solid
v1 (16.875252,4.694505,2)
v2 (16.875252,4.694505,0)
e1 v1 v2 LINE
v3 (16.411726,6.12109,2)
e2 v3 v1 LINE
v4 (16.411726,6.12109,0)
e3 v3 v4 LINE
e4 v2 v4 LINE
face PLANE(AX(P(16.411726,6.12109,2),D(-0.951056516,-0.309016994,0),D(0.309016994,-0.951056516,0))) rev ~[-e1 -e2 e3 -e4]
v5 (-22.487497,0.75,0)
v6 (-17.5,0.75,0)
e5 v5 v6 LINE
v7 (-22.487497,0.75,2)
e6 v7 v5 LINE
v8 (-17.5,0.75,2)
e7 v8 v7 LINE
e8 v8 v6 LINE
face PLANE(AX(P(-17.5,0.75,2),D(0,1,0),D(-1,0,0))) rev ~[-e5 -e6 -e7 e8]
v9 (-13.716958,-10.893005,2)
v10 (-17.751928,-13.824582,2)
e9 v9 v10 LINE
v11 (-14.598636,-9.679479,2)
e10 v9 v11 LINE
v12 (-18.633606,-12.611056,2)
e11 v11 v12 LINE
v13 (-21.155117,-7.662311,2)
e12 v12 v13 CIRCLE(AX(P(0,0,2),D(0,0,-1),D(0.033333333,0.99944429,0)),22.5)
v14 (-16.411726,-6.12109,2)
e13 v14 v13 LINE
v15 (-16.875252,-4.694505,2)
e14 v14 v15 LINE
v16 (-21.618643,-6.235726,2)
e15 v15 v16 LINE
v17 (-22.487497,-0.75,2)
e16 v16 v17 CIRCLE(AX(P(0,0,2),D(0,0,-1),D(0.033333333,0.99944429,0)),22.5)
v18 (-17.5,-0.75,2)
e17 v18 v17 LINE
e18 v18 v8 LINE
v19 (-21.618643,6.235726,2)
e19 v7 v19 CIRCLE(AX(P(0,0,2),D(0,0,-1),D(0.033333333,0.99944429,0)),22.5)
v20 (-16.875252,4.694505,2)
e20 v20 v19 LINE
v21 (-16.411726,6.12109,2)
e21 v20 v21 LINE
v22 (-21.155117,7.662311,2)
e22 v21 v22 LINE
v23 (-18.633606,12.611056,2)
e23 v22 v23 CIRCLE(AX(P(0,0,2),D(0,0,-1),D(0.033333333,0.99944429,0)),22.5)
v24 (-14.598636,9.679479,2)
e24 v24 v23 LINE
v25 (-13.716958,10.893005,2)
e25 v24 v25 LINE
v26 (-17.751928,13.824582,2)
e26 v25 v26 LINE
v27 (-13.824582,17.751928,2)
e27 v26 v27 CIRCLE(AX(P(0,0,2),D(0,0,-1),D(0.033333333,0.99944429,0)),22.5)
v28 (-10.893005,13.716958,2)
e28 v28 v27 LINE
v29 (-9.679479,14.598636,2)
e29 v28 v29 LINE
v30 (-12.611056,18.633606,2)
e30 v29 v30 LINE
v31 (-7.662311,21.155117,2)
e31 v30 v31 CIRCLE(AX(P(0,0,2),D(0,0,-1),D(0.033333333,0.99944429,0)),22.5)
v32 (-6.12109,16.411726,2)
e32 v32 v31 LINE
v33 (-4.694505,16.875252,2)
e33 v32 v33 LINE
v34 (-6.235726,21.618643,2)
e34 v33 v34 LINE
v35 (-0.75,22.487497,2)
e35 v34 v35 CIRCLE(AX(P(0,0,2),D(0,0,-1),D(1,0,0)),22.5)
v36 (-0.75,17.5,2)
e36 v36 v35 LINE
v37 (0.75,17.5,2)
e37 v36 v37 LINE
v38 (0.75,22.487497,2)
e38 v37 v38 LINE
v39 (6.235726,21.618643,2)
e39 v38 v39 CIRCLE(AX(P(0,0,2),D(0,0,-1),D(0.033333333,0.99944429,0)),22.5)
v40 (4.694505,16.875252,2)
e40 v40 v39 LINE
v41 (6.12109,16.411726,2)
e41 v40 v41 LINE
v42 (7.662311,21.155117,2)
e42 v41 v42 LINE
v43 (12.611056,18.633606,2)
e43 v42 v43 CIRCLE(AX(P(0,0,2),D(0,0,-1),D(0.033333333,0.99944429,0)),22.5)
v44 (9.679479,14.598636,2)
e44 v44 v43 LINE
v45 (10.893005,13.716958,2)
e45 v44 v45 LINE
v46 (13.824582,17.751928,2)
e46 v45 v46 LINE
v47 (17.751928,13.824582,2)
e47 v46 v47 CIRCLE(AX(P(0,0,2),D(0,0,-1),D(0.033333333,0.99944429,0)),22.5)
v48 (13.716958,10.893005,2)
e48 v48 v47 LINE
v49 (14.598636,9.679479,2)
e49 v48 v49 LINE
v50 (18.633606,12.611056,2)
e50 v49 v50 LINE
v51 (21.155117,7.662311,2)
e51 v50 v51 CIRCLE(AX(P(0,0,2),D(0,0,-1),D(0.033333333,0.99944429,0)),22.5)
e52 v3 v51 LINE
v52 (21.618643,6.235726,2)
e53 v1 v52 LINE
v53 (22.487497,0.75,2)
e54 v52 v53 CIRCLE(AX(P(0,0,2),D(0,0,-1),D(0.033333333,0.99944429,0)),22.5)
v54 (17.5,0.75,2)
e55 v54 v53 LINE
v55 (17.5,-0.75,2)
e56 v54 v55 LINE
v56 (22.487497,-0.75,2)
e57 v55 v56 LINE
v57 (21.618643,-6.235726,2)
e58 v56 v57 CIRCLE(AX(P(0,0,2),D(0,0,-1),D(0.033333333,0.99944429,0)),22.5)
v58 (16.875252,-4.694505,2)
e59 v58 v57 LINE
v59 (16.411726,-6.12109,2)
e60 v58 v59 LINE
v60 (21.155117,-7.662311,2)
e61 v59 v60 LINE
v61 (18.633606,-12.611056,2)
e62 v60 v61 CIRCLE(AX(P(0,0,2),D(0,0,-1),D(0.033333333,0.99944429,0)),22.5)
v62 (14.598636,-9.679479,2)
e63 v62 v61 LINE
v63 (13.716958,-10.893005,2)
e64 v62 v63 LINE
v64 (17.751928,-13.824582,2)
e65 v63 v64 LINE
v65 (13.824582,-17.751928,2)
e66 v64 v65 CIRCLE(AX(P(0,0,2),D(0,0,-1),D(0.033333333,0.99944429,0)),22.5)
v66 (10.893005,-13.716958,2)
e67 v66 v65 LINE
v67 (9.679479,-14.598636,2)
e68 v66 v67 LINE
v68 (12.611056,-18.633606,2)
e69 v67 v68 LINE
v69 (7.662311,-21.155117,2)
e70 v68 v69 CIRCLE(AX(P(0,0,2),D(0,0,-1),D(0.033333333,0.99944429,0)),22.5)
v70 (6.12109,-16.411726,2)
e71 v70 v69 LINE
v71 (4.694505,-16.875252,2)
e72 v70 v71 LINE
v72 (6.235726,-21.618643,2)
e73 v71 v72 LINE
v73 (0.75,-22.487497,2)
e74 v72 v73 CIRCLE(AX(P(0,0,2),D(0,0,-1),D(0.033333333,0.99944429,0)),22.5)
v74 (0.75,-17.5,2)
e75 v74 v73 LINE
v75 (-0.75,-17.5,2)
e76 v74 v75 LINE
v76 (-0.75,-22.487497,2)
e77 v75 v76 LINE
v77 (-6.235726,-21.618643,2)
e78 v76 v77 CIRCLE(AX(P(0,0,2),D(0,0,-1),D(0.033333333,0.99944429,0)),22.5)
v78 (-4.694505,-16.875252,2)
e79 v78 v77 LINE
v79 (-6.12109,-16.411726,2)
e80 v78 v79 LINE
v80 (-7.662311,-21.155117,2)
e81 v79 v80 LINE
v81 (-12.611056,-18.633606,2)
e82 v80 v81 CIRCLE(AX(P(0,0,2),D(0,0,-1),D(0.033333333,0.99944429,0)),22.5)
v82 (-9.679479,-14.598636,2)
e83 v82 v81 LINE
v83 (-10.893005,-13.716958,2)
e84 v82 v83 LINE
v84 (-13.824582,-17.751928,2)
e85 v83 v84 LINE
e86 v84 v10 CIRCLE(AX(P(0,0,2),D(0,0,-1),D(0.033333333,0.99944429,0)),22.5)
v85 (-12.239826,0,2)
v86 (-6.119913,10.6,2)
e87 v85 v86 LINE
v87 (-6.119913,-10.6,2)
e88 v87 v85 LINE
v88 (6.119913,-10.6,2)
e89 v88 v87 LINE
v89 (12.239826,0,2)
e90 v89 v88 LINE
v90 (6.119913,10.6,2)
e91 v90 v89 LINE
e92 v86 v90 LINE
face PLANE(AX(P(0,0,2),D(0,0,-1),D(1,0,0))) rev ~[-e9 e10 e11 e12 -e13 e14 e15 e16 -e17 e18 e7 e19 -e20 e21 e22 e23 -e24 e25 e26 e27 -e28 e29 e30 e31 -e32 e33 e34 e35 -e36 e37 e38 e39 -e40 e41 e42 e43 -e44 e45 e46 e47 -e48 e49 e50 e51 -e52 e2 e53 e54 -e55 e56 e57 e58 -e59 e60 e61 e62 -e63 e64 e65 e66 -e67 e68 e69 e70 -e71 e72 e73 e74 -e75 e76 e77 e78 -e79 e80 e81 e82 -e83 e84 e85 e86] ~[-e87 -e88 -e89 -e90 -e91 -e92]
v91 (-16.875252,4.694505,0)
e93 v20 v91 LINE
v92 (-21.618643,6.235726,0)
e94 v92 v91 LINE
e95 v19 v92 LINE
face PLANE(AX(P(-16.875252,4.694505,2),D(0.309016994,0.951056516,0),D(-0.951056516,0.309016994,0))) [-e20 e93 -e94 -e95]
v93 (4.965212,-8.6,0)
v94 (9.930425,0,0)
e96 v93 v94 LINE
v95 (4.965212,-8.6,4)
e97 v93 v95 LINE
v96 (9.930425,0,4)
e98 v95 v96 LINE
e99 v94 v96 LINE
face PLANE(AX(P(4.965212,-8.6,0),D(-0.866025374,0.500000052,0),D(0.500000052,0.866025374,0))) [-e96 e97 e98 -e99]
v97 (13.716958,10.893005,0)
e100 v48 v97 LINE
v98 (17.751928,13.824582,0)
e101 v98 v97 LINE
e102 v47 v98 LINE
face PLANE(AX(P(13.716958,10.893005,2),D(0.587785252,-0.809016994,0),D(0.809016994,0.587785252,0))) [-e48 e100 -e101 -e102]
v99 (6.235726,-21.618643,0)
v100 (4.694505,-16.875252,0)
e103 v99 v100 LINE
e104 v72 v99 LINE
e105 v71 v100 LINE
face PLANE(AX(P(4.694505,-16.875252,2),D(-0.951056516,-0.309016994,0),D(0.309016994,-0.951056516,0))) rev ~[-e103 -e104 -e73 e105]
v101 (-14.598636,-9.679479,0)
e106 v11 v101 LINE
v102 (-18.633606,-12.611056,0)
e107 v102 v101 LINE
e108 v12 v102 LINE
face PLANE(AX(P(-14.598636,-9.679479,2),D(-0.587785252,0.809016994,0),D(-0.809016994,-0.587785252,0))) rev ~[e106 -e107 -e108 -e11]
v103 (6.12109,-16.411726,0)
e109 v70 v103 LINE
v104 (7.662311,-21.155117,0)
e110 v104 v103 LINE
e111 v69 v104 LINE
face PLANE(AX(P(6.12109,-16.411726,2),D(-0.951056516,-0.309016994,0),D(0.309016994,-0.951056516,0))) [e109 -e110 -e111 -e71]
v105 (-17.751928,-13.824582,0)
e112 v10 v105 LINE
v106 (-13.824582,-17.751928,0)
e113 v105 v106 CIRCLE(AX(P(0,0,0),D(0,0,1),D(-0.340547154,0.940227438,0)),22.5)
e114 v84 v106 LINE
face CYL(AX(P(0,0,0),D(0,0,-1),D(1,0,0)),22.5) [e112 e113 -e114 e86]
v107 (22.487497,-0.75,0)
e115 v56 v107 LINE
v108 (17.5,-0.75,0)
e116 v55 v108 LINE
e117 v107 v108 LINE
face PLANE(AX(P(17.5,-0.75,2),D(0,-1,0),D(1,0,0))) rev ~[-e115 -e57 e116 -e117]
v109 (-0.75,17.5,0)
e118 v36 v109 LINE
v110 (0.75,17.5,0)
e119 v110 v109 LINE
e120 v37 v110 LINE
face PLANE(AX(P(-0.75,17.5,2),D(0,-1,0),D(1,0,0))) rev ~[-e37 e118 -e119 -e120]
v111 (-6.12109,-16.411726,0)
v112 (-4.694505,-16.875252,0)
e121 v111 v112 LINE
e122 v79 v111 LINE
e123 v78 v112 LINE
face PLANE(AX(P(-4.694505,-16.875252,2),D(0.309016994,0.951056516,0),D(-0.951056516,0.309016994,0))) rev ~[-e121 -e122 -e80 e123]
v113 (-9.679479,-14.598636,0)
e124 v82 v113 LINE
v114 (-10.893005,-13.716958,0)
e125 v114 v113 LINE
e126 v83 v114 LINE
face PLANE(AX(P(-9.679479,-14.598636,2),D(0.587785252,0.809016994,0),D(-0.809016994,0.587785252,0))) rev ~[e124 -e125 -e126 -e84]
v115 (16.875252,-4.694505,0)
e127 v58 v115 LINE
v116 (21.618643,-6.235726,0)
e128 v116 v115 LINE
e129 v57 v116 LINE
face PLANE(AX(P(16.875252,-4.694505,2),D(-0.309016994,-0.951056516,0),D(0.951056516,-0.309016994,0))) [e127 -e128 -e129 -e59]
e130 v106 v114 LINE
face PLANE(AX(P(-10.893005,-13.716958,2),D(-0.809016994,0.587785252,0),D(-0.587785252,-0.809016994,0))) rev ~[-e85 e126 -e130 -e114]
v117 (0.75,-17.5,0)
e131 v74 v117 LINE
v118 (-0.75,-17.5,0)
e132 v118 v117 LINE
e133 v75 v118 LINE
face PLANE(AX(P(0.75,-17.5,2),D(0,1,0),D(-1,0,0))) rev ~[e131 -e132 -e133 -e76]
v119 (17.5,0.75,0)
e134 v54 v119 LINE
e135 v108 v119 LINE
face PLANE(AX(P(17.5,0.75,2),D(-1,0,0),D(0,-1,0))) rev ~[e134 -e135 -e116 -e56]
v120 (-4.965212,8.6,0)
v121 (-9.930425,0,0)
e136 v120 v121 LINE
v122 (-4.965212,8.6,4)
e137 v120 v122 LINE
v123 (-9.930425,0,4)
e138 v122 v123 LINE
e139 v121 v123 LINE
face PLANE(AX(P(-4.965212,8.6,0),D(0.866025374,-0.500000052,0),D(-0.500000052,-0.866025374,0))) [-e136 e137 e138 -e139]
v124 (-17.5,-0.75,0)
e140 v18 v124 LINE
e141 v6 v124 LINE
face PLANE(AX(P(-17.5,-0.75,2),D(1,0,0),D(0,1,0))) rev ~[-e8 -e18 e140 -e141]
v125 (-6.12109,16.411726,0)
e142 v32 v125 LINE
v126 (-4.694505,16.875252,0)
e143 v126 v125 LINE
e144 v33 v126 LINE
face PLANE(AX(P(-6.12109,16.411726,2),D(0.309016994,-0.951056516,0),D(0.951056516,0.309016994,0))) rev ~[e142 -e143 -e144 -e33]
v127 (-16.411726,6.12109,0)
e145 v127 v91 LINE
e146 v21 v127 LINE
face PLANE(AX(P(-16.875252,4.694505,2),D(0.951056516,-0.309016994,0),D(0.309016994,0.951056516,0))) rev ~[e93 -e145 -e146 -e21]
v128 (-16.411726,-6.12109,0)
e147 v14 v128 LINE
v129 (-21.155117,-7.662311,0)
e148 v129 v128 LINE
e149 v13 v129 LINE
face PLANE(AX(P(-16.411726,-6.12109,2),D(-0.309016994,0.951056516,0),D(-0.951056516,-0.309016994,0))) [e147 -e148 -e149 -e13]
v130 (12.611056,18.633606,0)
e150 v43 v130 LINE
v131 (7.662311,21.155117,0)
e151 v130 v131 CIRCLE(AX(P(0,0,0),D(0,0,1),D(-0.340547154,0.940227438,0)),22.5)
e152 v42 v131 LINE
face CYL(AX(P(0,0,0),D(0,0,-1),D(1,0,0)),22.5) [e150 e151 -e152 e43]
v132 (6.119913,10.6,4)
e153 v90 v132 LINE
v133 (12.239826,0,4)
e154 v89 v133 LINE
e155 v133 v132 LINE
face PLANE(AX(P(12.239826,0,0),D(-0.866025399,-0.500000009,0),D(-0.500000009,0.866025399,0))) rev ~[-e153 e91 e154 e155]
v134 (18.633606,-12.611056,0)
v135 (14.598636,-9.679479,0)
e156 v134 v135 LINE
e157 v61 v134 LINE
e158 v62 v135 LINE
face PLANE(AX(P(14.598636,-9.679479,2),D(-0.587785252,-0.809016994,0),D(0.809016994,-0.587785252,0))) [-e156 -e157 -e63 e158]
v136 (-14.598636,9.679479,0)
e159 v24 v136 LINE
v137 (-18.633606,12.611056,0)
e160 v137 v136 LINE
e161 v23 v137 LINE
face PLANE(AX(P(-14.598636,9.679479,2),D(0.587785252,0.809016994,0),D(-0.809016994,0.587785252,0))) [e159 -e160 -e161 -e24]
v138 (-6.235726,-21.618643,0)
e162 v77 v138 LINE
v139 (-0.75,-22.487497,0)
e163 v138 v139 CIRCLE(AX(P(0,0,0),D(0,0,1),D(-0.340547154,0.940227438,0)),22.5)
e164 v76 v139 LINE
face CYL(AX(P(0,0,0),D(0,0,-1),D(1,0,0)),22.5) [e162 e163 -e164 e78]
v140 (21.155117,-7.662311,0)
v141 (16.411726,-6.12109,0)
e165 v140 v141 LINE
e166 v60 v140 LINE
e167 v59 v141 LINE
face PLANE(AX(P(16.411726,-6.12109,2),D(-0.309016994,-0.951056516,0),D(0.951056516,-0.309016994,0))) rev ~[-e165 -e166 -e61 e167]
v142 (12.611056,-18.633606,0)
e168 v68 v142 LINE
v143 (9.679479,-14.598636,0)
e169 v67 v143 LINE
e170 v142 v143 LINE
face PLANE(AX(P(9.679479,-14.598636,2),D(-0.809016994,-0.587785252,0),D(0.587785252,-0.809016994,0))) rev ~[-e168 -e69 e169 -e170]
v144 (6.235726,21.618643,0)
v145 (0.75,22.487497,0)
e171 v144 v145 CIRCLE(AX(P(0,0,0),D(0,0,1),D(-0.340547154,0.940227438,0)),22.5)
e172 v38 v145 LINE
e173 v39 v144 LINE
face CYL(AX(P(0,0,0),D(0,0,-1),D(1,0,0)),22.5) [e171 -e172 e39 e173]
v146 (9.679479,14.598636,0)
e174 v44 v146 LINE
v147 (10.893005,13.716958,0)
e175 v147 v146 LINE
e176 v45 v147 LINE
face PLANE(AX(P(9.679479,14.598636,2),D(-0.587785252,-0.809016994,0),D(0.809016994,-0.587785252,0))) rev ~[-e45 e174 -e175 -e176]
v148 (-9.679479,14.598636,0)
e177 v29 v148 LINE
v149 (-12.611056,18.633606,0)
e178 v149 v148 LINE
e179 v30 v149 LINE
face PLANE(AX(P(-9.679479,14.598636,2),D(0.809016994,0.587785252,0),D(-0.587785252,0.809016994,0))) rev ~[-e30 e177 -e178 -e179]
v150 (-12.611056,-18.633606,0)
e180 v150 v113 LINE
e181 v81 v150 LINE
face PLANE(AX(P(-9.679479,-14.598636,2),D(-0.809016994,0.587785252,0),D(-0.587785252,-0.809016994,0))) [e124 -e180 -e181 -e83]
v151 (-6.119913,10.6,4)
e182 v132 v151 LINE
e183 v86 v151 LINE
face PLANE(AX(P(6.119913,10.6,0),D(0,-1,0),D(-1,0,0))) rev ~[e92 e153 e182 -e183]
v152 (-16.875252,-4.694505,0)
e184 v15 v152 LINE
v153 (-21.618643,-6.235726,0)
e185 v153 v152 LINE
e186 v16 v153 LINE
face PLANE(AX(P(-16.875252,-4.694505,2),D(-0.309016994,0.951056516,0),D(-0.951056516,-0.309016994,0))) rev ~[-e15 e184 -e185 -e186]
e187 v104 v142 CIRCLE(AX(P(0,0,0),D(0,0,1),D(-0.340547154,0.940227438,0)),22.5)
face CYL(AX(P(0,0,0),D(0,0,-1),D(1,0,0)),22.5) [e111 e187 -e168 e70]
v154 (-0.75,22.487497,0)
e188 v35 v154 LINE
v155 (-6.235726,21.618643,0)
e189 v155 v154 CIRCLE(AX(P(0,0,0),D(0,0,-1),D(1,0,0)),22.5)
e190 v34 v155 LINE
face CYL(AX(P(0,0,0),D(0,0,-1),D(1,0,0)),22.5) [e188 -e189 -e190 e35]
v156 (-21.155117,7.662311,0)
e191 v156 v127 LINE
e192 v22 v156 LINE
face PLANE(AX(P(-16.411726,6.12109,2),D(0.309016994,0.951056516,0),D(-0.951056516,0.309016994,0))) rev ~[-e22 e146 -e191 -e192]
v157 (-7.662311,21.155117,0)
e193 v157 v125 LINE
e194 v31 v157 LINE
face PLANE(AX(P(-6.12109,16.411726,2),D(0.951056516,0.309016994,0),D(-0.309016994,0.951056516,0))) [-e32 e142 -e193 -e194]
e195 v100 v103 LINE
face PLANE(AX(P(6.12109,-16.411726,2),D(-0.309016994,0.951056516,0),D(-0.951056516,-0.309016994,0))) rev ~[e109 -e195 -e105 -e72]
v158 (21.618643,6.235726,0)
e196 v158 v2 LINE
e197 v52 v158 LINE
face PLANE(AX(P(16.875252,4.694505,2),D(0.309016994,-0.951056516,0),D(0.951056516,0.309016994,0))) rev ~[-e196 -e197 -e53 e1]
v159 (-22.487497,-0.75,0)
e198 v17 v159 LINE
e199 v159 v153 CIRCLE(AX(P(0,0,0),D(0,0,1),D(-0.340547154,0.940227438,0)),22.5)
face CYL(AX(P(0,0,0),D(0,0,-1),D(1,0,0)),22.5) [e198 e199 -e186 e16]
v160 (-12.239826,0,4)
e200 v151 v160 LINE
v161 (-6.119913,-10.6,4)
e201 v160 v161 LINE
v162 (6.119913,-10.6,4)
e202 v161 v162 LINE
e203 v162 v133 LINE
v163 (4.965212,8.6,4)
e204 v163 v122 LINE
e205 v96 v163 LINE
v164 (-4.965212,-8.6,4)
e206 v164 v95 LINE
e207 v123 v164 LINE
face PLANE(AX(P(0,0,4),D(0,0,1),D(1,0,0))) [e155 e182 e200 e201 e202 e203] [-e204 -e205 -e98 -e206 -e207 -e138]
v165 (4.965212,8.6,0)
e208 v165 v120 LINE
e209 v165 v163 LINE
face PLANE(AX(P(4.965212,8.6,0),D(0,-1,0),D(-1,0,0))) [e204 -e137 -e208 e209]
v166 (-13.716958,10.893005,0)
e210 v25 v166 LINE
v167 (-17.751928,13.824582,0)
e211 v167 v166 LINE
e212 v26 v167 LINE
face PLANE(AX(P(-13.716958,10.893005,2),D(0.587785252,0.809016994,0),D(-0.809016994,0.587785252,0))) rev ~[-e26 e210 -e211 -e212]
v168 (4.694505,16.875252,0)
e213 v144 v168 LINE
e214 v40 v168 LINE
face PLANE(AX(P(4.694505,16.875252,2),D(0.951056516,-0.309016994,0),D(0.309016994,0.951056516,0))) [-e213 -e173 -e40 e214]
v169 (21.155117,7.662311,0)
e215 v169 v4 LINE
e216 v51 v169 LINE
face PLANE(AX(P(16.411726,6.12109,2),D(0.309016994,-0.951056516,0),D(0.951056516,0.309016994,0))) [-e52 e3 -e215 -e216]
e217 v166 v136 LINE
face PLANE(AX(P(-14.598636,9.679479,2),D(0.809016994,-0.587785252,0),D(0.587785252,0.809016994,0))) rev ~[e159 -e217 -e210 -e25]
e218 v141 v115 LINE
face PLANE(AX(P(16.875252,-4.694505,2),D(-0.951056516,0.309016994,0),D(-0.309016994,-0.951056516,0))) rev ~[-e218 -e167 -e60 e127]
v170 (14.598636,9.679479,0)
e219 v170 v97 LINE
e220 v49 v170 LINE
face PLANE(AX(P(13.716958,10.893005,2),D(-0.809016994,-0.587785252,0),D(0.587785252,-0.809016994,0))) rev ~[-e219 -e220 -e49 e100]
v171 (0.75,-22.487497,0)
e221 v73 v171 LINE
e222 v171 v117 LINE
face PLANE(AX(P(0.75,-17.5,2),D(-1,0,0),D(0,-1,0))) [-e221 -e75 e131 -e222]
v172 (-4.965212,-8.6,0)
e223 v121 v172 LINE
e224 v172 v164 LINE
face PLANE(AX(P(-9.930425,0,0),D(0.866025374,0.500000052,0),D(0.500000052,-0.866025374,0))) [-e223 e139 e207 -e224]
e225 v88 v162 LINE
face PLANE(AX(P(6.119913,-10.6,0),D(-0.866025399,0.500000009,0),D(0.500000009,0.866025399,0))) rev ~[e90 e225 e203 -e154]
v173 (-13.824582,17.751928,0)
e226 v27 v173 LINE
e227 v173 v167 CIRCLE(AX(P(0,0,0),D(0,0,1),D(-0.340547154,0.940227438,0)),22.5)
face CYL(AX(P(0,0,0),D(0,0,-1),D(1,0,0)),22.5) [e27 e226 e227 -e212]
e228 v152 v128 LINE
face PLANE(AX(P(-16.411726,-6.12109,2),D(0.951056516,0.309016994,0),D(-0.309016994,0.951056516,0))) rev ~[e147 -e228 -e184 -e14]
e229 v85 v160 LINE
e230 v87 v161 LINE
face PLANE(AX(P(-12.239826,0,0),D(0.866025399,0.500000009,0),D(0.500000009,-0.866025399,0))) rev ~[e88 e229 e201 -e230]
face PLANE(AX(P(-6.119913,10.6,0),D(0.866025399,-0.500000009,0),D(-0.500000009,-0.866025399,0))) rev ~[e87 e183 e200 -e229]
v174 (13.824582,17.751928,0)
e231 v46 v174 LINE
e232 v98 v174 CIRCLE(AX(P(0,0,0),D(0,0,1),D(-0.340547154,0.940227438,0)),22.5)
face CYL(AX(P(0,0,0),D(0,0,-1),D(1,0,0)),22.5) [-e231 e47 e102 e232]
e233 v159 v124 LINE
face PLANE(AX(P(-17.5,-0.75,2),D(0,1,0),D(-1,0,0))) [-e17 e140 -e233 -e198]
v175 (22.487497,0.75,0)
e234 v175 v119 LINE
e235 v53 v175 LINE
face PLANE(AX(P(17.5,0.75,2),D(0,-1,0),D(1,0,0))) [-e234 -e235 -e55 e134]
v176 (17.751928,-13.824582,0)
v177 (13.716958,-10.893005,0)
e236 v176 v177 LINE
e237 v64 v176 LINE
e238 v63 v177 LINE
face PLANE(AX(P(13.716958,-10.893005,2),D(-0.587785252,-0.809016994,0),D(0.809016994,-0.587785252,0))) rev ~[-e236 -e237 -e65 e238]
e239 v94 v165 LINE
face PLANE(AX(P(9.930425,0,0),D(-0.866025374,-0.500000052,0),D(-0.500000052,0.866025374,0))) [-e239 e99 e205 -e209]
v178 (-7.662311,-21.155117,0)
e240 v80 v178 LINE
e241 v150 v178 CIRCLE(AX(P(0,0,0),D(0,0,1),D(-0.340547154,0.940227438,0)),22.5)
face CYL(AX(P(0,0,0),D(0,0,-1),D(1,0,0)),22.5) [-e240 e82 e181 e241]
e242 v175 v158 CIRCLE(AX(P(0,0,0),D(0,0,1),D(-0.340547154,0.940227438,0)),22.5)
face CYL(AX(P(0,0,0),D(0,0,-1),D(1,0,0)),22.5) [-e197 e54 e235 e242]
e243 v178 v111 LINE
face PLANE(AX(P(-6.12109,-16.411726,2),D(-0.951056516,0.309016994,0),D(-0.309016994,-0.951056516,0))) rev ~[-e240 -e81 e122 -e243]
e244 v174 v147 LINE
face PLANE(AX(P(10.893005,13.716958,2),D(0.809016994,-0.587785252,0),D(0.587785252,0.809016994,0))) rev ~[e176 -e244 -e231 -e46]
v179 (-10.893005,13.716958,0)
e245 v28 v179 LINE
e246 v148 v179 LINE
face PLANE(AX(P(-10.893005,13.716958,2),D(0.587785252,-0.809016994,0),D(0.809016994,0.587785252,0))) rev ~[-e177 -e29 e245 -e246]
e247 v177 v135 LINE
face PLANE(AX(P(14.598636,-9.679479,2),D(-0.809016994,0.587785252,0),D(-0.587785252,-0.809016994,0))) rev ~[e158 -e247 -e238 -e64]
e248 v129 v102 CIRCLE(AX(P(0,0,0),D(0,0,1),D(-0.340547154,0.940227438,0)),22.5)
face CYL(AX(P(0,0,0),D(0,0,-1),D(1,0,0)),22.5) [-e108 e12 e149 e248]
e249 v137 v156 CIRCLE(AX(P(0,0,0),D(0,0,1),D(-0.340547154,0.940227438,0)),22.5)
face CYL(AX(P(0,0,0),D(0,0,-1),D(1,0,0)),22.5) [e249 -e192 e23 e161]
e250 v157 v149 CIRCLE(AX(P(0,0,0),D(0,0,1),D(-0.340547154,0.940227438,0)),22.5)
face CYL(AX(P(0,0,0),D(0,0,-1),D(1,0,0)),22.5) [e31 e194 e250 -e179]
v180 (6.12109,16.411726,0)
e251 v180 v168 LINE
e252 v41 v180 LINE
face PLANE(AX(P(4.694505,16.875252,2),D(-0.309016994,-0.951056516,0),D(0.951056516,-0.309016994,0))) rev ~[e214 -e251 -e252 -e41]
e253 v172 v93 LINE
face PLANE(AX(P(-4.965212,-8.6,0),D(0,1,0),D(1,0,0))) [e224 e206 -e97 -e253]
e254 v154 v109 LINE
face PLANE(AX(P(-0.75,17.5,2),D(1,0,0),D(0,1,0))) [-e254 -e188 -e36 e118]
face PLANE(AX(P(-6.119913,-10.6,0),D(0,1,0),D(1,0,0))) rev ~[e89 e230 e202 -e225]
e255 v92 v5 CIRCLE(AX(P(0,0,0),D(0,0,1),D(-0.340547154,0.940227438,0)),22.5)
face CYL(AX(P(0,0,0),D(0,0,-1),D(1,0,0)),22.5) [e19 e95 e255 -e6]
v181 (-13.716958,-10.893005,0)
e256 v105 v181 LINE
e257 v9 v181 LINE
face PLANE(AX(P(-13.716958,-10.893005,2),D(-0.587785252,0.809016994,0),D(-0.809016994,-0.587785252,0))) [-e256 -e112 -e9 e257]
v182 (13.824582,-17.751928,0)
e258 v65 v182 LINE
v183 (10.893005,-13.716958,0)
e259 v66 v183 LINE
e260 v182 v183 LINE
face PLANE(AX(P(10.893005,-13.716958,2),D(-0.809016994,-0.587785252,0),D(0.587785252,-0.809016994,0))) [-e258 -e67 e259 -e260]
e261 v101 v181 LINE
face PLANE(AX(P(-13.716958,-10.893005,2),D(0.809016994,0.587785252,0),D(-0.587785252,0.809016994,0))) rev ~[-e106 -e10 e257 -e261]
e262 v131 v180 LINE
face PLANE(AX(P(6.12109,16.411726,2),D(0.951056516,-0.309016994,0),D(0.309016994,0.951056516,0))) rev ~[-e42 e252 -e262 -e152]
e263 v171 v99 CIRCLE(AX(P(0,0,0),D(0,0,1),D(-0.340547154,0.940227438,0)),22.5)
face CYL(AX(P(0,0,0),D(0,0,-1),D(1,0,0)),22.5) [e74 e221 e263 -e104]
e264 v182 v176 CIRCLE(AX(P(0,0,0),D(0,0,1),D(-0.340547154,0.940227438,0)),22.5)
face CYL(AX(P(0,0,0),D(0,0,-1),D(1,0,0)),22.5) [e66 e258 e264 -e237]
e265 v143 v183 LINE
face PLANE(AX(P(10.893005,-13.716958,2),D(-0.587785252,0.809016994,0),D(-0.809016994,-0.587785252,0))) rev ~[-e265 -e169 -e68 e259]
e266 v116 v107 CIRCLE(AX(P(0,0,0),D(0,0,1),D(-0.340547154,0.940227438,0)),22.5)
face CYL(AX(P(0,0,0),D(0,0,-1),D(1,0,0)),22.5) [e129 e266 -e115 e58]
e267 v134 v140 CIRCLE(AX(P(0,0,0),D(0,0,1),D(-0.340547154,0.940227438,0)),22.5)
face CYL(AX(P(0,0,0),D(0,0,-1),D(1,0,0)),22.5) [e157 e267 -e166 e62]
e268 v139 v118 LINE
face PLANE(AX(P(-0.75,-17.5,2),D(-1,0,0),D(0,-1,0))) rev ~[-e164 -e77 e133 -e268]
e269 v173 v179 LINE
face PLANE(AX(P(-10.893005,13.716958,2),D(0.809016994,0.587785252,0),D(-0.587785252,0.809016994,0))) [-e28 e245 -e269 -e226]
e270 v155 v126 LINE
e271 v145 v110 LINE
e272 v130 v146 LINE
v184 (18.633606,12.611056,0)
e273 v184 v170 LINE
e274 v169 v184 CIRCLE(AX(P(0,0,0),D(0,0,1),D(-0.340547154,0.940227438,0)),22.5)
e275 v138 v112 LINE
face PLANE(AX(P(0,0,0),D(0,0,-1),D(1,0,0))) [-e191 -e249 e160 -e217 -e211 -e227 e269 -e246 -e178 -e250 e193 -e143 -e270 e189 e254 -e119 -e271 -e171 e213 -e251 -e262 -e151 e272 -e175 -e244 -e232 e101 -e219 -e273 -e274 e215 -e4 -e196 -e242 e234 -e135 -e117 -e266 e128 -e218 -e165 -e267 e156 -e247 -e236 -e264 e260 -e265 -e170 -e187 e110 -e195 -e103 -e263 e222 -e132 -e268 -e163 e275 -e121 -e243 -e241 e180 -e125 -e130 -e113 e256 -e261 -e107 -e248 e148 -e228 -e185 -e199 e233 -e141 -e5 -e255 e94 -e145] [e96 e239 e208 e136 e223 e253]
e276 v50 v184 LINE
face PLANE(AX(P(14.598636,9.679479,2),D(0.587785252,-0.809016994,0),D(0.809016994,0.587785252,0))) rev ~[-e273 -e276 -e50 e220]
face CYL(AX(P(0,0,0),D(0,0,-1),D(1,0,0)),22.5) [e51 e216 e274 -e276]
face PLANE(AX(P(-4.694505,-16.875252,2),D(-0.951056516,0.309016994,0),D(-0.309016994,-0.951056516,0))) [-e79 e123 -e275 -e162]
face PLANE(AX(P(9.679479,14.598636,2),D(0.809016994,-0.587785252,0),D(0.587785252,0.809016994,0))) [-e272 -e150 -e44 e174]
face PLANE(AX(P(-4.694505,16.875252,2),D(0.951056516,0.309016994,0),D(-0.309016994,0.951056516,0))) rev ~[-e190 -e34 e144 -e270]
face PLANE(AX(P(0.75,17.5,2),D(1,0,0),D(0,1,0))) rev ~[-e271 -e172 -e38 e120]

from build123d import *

# Parameters (mm, degrees)
PAD_DEPTH          = 4
SKETCH001_R        = 22.5
PAD001_DEPTH       = 2
SKETCH002_W        = 1.5
SKETCH002_H        = 5
POCKET_DEPTH       = 129.531389
POLARPATTERN_COUNT = 20


with BuildPart() as part:
    # Sketch → Pad (new body)
    with BuildSketch(Plane.XY):
        Polygon((-6.119913, 10.6), (-12.239826, 0), (-6.119913, -10.6), (6.119913, -10.6), (12.239826, 0), (6.119913, 10.6), align=None)
        Polygon((-4.965212, 8.6), (-9.930425, 0), (-4.965212, -8.6), (4.965212, -8.6), (9.930425, 0), (4.965212, 8.6), align=None, mode=Mode.SUBTRACT)
    extrude(amount=PAD_DEPTH)

    # Sketch001 (on Face13 of Pad) → Pad001 (join)
    with BuildSketch(Plane(origin=(0, 0, 0), x_dir=(1, 0, 0), z_dir=(0, 0, -1))):
        Circle(SKETCH001_R)
        Polygon((-6.119913, 10.6), (-12.239826, 0), (-6.119913, -10.6), (6.119913, -10.6), (12.239826, 0), (6.119913, 10.6), align=None, mode=Mode.SUBTRACT)
    extrude(amount=-PAD001_DEPTH)

    # Sketch002 (on Face2 of Pad001) → Pocket (cut, through all)
    with BuildSketch(Plane.XY.offset(2)):
        with Locations((0, 20)):
            Rectangle(SKETCH002_W, SKETCH002_H)
    pocket = extrude(amount=-POCKET_DEPTH, mode=Mode.SUBTRACT)

    # PolarPattern: Pocket ×20 about axis
    polarpattern_axis = Axis((0, 0, 0), (0, 0, 1))
    for i in range(1, POLARPATTERN_COUNT):
        add(pocket.rotate(polarpattern_axis, i * 360 / POLARPATTERN_COUNT), mode=Mode.SUBTRACT)


solid = part.part
